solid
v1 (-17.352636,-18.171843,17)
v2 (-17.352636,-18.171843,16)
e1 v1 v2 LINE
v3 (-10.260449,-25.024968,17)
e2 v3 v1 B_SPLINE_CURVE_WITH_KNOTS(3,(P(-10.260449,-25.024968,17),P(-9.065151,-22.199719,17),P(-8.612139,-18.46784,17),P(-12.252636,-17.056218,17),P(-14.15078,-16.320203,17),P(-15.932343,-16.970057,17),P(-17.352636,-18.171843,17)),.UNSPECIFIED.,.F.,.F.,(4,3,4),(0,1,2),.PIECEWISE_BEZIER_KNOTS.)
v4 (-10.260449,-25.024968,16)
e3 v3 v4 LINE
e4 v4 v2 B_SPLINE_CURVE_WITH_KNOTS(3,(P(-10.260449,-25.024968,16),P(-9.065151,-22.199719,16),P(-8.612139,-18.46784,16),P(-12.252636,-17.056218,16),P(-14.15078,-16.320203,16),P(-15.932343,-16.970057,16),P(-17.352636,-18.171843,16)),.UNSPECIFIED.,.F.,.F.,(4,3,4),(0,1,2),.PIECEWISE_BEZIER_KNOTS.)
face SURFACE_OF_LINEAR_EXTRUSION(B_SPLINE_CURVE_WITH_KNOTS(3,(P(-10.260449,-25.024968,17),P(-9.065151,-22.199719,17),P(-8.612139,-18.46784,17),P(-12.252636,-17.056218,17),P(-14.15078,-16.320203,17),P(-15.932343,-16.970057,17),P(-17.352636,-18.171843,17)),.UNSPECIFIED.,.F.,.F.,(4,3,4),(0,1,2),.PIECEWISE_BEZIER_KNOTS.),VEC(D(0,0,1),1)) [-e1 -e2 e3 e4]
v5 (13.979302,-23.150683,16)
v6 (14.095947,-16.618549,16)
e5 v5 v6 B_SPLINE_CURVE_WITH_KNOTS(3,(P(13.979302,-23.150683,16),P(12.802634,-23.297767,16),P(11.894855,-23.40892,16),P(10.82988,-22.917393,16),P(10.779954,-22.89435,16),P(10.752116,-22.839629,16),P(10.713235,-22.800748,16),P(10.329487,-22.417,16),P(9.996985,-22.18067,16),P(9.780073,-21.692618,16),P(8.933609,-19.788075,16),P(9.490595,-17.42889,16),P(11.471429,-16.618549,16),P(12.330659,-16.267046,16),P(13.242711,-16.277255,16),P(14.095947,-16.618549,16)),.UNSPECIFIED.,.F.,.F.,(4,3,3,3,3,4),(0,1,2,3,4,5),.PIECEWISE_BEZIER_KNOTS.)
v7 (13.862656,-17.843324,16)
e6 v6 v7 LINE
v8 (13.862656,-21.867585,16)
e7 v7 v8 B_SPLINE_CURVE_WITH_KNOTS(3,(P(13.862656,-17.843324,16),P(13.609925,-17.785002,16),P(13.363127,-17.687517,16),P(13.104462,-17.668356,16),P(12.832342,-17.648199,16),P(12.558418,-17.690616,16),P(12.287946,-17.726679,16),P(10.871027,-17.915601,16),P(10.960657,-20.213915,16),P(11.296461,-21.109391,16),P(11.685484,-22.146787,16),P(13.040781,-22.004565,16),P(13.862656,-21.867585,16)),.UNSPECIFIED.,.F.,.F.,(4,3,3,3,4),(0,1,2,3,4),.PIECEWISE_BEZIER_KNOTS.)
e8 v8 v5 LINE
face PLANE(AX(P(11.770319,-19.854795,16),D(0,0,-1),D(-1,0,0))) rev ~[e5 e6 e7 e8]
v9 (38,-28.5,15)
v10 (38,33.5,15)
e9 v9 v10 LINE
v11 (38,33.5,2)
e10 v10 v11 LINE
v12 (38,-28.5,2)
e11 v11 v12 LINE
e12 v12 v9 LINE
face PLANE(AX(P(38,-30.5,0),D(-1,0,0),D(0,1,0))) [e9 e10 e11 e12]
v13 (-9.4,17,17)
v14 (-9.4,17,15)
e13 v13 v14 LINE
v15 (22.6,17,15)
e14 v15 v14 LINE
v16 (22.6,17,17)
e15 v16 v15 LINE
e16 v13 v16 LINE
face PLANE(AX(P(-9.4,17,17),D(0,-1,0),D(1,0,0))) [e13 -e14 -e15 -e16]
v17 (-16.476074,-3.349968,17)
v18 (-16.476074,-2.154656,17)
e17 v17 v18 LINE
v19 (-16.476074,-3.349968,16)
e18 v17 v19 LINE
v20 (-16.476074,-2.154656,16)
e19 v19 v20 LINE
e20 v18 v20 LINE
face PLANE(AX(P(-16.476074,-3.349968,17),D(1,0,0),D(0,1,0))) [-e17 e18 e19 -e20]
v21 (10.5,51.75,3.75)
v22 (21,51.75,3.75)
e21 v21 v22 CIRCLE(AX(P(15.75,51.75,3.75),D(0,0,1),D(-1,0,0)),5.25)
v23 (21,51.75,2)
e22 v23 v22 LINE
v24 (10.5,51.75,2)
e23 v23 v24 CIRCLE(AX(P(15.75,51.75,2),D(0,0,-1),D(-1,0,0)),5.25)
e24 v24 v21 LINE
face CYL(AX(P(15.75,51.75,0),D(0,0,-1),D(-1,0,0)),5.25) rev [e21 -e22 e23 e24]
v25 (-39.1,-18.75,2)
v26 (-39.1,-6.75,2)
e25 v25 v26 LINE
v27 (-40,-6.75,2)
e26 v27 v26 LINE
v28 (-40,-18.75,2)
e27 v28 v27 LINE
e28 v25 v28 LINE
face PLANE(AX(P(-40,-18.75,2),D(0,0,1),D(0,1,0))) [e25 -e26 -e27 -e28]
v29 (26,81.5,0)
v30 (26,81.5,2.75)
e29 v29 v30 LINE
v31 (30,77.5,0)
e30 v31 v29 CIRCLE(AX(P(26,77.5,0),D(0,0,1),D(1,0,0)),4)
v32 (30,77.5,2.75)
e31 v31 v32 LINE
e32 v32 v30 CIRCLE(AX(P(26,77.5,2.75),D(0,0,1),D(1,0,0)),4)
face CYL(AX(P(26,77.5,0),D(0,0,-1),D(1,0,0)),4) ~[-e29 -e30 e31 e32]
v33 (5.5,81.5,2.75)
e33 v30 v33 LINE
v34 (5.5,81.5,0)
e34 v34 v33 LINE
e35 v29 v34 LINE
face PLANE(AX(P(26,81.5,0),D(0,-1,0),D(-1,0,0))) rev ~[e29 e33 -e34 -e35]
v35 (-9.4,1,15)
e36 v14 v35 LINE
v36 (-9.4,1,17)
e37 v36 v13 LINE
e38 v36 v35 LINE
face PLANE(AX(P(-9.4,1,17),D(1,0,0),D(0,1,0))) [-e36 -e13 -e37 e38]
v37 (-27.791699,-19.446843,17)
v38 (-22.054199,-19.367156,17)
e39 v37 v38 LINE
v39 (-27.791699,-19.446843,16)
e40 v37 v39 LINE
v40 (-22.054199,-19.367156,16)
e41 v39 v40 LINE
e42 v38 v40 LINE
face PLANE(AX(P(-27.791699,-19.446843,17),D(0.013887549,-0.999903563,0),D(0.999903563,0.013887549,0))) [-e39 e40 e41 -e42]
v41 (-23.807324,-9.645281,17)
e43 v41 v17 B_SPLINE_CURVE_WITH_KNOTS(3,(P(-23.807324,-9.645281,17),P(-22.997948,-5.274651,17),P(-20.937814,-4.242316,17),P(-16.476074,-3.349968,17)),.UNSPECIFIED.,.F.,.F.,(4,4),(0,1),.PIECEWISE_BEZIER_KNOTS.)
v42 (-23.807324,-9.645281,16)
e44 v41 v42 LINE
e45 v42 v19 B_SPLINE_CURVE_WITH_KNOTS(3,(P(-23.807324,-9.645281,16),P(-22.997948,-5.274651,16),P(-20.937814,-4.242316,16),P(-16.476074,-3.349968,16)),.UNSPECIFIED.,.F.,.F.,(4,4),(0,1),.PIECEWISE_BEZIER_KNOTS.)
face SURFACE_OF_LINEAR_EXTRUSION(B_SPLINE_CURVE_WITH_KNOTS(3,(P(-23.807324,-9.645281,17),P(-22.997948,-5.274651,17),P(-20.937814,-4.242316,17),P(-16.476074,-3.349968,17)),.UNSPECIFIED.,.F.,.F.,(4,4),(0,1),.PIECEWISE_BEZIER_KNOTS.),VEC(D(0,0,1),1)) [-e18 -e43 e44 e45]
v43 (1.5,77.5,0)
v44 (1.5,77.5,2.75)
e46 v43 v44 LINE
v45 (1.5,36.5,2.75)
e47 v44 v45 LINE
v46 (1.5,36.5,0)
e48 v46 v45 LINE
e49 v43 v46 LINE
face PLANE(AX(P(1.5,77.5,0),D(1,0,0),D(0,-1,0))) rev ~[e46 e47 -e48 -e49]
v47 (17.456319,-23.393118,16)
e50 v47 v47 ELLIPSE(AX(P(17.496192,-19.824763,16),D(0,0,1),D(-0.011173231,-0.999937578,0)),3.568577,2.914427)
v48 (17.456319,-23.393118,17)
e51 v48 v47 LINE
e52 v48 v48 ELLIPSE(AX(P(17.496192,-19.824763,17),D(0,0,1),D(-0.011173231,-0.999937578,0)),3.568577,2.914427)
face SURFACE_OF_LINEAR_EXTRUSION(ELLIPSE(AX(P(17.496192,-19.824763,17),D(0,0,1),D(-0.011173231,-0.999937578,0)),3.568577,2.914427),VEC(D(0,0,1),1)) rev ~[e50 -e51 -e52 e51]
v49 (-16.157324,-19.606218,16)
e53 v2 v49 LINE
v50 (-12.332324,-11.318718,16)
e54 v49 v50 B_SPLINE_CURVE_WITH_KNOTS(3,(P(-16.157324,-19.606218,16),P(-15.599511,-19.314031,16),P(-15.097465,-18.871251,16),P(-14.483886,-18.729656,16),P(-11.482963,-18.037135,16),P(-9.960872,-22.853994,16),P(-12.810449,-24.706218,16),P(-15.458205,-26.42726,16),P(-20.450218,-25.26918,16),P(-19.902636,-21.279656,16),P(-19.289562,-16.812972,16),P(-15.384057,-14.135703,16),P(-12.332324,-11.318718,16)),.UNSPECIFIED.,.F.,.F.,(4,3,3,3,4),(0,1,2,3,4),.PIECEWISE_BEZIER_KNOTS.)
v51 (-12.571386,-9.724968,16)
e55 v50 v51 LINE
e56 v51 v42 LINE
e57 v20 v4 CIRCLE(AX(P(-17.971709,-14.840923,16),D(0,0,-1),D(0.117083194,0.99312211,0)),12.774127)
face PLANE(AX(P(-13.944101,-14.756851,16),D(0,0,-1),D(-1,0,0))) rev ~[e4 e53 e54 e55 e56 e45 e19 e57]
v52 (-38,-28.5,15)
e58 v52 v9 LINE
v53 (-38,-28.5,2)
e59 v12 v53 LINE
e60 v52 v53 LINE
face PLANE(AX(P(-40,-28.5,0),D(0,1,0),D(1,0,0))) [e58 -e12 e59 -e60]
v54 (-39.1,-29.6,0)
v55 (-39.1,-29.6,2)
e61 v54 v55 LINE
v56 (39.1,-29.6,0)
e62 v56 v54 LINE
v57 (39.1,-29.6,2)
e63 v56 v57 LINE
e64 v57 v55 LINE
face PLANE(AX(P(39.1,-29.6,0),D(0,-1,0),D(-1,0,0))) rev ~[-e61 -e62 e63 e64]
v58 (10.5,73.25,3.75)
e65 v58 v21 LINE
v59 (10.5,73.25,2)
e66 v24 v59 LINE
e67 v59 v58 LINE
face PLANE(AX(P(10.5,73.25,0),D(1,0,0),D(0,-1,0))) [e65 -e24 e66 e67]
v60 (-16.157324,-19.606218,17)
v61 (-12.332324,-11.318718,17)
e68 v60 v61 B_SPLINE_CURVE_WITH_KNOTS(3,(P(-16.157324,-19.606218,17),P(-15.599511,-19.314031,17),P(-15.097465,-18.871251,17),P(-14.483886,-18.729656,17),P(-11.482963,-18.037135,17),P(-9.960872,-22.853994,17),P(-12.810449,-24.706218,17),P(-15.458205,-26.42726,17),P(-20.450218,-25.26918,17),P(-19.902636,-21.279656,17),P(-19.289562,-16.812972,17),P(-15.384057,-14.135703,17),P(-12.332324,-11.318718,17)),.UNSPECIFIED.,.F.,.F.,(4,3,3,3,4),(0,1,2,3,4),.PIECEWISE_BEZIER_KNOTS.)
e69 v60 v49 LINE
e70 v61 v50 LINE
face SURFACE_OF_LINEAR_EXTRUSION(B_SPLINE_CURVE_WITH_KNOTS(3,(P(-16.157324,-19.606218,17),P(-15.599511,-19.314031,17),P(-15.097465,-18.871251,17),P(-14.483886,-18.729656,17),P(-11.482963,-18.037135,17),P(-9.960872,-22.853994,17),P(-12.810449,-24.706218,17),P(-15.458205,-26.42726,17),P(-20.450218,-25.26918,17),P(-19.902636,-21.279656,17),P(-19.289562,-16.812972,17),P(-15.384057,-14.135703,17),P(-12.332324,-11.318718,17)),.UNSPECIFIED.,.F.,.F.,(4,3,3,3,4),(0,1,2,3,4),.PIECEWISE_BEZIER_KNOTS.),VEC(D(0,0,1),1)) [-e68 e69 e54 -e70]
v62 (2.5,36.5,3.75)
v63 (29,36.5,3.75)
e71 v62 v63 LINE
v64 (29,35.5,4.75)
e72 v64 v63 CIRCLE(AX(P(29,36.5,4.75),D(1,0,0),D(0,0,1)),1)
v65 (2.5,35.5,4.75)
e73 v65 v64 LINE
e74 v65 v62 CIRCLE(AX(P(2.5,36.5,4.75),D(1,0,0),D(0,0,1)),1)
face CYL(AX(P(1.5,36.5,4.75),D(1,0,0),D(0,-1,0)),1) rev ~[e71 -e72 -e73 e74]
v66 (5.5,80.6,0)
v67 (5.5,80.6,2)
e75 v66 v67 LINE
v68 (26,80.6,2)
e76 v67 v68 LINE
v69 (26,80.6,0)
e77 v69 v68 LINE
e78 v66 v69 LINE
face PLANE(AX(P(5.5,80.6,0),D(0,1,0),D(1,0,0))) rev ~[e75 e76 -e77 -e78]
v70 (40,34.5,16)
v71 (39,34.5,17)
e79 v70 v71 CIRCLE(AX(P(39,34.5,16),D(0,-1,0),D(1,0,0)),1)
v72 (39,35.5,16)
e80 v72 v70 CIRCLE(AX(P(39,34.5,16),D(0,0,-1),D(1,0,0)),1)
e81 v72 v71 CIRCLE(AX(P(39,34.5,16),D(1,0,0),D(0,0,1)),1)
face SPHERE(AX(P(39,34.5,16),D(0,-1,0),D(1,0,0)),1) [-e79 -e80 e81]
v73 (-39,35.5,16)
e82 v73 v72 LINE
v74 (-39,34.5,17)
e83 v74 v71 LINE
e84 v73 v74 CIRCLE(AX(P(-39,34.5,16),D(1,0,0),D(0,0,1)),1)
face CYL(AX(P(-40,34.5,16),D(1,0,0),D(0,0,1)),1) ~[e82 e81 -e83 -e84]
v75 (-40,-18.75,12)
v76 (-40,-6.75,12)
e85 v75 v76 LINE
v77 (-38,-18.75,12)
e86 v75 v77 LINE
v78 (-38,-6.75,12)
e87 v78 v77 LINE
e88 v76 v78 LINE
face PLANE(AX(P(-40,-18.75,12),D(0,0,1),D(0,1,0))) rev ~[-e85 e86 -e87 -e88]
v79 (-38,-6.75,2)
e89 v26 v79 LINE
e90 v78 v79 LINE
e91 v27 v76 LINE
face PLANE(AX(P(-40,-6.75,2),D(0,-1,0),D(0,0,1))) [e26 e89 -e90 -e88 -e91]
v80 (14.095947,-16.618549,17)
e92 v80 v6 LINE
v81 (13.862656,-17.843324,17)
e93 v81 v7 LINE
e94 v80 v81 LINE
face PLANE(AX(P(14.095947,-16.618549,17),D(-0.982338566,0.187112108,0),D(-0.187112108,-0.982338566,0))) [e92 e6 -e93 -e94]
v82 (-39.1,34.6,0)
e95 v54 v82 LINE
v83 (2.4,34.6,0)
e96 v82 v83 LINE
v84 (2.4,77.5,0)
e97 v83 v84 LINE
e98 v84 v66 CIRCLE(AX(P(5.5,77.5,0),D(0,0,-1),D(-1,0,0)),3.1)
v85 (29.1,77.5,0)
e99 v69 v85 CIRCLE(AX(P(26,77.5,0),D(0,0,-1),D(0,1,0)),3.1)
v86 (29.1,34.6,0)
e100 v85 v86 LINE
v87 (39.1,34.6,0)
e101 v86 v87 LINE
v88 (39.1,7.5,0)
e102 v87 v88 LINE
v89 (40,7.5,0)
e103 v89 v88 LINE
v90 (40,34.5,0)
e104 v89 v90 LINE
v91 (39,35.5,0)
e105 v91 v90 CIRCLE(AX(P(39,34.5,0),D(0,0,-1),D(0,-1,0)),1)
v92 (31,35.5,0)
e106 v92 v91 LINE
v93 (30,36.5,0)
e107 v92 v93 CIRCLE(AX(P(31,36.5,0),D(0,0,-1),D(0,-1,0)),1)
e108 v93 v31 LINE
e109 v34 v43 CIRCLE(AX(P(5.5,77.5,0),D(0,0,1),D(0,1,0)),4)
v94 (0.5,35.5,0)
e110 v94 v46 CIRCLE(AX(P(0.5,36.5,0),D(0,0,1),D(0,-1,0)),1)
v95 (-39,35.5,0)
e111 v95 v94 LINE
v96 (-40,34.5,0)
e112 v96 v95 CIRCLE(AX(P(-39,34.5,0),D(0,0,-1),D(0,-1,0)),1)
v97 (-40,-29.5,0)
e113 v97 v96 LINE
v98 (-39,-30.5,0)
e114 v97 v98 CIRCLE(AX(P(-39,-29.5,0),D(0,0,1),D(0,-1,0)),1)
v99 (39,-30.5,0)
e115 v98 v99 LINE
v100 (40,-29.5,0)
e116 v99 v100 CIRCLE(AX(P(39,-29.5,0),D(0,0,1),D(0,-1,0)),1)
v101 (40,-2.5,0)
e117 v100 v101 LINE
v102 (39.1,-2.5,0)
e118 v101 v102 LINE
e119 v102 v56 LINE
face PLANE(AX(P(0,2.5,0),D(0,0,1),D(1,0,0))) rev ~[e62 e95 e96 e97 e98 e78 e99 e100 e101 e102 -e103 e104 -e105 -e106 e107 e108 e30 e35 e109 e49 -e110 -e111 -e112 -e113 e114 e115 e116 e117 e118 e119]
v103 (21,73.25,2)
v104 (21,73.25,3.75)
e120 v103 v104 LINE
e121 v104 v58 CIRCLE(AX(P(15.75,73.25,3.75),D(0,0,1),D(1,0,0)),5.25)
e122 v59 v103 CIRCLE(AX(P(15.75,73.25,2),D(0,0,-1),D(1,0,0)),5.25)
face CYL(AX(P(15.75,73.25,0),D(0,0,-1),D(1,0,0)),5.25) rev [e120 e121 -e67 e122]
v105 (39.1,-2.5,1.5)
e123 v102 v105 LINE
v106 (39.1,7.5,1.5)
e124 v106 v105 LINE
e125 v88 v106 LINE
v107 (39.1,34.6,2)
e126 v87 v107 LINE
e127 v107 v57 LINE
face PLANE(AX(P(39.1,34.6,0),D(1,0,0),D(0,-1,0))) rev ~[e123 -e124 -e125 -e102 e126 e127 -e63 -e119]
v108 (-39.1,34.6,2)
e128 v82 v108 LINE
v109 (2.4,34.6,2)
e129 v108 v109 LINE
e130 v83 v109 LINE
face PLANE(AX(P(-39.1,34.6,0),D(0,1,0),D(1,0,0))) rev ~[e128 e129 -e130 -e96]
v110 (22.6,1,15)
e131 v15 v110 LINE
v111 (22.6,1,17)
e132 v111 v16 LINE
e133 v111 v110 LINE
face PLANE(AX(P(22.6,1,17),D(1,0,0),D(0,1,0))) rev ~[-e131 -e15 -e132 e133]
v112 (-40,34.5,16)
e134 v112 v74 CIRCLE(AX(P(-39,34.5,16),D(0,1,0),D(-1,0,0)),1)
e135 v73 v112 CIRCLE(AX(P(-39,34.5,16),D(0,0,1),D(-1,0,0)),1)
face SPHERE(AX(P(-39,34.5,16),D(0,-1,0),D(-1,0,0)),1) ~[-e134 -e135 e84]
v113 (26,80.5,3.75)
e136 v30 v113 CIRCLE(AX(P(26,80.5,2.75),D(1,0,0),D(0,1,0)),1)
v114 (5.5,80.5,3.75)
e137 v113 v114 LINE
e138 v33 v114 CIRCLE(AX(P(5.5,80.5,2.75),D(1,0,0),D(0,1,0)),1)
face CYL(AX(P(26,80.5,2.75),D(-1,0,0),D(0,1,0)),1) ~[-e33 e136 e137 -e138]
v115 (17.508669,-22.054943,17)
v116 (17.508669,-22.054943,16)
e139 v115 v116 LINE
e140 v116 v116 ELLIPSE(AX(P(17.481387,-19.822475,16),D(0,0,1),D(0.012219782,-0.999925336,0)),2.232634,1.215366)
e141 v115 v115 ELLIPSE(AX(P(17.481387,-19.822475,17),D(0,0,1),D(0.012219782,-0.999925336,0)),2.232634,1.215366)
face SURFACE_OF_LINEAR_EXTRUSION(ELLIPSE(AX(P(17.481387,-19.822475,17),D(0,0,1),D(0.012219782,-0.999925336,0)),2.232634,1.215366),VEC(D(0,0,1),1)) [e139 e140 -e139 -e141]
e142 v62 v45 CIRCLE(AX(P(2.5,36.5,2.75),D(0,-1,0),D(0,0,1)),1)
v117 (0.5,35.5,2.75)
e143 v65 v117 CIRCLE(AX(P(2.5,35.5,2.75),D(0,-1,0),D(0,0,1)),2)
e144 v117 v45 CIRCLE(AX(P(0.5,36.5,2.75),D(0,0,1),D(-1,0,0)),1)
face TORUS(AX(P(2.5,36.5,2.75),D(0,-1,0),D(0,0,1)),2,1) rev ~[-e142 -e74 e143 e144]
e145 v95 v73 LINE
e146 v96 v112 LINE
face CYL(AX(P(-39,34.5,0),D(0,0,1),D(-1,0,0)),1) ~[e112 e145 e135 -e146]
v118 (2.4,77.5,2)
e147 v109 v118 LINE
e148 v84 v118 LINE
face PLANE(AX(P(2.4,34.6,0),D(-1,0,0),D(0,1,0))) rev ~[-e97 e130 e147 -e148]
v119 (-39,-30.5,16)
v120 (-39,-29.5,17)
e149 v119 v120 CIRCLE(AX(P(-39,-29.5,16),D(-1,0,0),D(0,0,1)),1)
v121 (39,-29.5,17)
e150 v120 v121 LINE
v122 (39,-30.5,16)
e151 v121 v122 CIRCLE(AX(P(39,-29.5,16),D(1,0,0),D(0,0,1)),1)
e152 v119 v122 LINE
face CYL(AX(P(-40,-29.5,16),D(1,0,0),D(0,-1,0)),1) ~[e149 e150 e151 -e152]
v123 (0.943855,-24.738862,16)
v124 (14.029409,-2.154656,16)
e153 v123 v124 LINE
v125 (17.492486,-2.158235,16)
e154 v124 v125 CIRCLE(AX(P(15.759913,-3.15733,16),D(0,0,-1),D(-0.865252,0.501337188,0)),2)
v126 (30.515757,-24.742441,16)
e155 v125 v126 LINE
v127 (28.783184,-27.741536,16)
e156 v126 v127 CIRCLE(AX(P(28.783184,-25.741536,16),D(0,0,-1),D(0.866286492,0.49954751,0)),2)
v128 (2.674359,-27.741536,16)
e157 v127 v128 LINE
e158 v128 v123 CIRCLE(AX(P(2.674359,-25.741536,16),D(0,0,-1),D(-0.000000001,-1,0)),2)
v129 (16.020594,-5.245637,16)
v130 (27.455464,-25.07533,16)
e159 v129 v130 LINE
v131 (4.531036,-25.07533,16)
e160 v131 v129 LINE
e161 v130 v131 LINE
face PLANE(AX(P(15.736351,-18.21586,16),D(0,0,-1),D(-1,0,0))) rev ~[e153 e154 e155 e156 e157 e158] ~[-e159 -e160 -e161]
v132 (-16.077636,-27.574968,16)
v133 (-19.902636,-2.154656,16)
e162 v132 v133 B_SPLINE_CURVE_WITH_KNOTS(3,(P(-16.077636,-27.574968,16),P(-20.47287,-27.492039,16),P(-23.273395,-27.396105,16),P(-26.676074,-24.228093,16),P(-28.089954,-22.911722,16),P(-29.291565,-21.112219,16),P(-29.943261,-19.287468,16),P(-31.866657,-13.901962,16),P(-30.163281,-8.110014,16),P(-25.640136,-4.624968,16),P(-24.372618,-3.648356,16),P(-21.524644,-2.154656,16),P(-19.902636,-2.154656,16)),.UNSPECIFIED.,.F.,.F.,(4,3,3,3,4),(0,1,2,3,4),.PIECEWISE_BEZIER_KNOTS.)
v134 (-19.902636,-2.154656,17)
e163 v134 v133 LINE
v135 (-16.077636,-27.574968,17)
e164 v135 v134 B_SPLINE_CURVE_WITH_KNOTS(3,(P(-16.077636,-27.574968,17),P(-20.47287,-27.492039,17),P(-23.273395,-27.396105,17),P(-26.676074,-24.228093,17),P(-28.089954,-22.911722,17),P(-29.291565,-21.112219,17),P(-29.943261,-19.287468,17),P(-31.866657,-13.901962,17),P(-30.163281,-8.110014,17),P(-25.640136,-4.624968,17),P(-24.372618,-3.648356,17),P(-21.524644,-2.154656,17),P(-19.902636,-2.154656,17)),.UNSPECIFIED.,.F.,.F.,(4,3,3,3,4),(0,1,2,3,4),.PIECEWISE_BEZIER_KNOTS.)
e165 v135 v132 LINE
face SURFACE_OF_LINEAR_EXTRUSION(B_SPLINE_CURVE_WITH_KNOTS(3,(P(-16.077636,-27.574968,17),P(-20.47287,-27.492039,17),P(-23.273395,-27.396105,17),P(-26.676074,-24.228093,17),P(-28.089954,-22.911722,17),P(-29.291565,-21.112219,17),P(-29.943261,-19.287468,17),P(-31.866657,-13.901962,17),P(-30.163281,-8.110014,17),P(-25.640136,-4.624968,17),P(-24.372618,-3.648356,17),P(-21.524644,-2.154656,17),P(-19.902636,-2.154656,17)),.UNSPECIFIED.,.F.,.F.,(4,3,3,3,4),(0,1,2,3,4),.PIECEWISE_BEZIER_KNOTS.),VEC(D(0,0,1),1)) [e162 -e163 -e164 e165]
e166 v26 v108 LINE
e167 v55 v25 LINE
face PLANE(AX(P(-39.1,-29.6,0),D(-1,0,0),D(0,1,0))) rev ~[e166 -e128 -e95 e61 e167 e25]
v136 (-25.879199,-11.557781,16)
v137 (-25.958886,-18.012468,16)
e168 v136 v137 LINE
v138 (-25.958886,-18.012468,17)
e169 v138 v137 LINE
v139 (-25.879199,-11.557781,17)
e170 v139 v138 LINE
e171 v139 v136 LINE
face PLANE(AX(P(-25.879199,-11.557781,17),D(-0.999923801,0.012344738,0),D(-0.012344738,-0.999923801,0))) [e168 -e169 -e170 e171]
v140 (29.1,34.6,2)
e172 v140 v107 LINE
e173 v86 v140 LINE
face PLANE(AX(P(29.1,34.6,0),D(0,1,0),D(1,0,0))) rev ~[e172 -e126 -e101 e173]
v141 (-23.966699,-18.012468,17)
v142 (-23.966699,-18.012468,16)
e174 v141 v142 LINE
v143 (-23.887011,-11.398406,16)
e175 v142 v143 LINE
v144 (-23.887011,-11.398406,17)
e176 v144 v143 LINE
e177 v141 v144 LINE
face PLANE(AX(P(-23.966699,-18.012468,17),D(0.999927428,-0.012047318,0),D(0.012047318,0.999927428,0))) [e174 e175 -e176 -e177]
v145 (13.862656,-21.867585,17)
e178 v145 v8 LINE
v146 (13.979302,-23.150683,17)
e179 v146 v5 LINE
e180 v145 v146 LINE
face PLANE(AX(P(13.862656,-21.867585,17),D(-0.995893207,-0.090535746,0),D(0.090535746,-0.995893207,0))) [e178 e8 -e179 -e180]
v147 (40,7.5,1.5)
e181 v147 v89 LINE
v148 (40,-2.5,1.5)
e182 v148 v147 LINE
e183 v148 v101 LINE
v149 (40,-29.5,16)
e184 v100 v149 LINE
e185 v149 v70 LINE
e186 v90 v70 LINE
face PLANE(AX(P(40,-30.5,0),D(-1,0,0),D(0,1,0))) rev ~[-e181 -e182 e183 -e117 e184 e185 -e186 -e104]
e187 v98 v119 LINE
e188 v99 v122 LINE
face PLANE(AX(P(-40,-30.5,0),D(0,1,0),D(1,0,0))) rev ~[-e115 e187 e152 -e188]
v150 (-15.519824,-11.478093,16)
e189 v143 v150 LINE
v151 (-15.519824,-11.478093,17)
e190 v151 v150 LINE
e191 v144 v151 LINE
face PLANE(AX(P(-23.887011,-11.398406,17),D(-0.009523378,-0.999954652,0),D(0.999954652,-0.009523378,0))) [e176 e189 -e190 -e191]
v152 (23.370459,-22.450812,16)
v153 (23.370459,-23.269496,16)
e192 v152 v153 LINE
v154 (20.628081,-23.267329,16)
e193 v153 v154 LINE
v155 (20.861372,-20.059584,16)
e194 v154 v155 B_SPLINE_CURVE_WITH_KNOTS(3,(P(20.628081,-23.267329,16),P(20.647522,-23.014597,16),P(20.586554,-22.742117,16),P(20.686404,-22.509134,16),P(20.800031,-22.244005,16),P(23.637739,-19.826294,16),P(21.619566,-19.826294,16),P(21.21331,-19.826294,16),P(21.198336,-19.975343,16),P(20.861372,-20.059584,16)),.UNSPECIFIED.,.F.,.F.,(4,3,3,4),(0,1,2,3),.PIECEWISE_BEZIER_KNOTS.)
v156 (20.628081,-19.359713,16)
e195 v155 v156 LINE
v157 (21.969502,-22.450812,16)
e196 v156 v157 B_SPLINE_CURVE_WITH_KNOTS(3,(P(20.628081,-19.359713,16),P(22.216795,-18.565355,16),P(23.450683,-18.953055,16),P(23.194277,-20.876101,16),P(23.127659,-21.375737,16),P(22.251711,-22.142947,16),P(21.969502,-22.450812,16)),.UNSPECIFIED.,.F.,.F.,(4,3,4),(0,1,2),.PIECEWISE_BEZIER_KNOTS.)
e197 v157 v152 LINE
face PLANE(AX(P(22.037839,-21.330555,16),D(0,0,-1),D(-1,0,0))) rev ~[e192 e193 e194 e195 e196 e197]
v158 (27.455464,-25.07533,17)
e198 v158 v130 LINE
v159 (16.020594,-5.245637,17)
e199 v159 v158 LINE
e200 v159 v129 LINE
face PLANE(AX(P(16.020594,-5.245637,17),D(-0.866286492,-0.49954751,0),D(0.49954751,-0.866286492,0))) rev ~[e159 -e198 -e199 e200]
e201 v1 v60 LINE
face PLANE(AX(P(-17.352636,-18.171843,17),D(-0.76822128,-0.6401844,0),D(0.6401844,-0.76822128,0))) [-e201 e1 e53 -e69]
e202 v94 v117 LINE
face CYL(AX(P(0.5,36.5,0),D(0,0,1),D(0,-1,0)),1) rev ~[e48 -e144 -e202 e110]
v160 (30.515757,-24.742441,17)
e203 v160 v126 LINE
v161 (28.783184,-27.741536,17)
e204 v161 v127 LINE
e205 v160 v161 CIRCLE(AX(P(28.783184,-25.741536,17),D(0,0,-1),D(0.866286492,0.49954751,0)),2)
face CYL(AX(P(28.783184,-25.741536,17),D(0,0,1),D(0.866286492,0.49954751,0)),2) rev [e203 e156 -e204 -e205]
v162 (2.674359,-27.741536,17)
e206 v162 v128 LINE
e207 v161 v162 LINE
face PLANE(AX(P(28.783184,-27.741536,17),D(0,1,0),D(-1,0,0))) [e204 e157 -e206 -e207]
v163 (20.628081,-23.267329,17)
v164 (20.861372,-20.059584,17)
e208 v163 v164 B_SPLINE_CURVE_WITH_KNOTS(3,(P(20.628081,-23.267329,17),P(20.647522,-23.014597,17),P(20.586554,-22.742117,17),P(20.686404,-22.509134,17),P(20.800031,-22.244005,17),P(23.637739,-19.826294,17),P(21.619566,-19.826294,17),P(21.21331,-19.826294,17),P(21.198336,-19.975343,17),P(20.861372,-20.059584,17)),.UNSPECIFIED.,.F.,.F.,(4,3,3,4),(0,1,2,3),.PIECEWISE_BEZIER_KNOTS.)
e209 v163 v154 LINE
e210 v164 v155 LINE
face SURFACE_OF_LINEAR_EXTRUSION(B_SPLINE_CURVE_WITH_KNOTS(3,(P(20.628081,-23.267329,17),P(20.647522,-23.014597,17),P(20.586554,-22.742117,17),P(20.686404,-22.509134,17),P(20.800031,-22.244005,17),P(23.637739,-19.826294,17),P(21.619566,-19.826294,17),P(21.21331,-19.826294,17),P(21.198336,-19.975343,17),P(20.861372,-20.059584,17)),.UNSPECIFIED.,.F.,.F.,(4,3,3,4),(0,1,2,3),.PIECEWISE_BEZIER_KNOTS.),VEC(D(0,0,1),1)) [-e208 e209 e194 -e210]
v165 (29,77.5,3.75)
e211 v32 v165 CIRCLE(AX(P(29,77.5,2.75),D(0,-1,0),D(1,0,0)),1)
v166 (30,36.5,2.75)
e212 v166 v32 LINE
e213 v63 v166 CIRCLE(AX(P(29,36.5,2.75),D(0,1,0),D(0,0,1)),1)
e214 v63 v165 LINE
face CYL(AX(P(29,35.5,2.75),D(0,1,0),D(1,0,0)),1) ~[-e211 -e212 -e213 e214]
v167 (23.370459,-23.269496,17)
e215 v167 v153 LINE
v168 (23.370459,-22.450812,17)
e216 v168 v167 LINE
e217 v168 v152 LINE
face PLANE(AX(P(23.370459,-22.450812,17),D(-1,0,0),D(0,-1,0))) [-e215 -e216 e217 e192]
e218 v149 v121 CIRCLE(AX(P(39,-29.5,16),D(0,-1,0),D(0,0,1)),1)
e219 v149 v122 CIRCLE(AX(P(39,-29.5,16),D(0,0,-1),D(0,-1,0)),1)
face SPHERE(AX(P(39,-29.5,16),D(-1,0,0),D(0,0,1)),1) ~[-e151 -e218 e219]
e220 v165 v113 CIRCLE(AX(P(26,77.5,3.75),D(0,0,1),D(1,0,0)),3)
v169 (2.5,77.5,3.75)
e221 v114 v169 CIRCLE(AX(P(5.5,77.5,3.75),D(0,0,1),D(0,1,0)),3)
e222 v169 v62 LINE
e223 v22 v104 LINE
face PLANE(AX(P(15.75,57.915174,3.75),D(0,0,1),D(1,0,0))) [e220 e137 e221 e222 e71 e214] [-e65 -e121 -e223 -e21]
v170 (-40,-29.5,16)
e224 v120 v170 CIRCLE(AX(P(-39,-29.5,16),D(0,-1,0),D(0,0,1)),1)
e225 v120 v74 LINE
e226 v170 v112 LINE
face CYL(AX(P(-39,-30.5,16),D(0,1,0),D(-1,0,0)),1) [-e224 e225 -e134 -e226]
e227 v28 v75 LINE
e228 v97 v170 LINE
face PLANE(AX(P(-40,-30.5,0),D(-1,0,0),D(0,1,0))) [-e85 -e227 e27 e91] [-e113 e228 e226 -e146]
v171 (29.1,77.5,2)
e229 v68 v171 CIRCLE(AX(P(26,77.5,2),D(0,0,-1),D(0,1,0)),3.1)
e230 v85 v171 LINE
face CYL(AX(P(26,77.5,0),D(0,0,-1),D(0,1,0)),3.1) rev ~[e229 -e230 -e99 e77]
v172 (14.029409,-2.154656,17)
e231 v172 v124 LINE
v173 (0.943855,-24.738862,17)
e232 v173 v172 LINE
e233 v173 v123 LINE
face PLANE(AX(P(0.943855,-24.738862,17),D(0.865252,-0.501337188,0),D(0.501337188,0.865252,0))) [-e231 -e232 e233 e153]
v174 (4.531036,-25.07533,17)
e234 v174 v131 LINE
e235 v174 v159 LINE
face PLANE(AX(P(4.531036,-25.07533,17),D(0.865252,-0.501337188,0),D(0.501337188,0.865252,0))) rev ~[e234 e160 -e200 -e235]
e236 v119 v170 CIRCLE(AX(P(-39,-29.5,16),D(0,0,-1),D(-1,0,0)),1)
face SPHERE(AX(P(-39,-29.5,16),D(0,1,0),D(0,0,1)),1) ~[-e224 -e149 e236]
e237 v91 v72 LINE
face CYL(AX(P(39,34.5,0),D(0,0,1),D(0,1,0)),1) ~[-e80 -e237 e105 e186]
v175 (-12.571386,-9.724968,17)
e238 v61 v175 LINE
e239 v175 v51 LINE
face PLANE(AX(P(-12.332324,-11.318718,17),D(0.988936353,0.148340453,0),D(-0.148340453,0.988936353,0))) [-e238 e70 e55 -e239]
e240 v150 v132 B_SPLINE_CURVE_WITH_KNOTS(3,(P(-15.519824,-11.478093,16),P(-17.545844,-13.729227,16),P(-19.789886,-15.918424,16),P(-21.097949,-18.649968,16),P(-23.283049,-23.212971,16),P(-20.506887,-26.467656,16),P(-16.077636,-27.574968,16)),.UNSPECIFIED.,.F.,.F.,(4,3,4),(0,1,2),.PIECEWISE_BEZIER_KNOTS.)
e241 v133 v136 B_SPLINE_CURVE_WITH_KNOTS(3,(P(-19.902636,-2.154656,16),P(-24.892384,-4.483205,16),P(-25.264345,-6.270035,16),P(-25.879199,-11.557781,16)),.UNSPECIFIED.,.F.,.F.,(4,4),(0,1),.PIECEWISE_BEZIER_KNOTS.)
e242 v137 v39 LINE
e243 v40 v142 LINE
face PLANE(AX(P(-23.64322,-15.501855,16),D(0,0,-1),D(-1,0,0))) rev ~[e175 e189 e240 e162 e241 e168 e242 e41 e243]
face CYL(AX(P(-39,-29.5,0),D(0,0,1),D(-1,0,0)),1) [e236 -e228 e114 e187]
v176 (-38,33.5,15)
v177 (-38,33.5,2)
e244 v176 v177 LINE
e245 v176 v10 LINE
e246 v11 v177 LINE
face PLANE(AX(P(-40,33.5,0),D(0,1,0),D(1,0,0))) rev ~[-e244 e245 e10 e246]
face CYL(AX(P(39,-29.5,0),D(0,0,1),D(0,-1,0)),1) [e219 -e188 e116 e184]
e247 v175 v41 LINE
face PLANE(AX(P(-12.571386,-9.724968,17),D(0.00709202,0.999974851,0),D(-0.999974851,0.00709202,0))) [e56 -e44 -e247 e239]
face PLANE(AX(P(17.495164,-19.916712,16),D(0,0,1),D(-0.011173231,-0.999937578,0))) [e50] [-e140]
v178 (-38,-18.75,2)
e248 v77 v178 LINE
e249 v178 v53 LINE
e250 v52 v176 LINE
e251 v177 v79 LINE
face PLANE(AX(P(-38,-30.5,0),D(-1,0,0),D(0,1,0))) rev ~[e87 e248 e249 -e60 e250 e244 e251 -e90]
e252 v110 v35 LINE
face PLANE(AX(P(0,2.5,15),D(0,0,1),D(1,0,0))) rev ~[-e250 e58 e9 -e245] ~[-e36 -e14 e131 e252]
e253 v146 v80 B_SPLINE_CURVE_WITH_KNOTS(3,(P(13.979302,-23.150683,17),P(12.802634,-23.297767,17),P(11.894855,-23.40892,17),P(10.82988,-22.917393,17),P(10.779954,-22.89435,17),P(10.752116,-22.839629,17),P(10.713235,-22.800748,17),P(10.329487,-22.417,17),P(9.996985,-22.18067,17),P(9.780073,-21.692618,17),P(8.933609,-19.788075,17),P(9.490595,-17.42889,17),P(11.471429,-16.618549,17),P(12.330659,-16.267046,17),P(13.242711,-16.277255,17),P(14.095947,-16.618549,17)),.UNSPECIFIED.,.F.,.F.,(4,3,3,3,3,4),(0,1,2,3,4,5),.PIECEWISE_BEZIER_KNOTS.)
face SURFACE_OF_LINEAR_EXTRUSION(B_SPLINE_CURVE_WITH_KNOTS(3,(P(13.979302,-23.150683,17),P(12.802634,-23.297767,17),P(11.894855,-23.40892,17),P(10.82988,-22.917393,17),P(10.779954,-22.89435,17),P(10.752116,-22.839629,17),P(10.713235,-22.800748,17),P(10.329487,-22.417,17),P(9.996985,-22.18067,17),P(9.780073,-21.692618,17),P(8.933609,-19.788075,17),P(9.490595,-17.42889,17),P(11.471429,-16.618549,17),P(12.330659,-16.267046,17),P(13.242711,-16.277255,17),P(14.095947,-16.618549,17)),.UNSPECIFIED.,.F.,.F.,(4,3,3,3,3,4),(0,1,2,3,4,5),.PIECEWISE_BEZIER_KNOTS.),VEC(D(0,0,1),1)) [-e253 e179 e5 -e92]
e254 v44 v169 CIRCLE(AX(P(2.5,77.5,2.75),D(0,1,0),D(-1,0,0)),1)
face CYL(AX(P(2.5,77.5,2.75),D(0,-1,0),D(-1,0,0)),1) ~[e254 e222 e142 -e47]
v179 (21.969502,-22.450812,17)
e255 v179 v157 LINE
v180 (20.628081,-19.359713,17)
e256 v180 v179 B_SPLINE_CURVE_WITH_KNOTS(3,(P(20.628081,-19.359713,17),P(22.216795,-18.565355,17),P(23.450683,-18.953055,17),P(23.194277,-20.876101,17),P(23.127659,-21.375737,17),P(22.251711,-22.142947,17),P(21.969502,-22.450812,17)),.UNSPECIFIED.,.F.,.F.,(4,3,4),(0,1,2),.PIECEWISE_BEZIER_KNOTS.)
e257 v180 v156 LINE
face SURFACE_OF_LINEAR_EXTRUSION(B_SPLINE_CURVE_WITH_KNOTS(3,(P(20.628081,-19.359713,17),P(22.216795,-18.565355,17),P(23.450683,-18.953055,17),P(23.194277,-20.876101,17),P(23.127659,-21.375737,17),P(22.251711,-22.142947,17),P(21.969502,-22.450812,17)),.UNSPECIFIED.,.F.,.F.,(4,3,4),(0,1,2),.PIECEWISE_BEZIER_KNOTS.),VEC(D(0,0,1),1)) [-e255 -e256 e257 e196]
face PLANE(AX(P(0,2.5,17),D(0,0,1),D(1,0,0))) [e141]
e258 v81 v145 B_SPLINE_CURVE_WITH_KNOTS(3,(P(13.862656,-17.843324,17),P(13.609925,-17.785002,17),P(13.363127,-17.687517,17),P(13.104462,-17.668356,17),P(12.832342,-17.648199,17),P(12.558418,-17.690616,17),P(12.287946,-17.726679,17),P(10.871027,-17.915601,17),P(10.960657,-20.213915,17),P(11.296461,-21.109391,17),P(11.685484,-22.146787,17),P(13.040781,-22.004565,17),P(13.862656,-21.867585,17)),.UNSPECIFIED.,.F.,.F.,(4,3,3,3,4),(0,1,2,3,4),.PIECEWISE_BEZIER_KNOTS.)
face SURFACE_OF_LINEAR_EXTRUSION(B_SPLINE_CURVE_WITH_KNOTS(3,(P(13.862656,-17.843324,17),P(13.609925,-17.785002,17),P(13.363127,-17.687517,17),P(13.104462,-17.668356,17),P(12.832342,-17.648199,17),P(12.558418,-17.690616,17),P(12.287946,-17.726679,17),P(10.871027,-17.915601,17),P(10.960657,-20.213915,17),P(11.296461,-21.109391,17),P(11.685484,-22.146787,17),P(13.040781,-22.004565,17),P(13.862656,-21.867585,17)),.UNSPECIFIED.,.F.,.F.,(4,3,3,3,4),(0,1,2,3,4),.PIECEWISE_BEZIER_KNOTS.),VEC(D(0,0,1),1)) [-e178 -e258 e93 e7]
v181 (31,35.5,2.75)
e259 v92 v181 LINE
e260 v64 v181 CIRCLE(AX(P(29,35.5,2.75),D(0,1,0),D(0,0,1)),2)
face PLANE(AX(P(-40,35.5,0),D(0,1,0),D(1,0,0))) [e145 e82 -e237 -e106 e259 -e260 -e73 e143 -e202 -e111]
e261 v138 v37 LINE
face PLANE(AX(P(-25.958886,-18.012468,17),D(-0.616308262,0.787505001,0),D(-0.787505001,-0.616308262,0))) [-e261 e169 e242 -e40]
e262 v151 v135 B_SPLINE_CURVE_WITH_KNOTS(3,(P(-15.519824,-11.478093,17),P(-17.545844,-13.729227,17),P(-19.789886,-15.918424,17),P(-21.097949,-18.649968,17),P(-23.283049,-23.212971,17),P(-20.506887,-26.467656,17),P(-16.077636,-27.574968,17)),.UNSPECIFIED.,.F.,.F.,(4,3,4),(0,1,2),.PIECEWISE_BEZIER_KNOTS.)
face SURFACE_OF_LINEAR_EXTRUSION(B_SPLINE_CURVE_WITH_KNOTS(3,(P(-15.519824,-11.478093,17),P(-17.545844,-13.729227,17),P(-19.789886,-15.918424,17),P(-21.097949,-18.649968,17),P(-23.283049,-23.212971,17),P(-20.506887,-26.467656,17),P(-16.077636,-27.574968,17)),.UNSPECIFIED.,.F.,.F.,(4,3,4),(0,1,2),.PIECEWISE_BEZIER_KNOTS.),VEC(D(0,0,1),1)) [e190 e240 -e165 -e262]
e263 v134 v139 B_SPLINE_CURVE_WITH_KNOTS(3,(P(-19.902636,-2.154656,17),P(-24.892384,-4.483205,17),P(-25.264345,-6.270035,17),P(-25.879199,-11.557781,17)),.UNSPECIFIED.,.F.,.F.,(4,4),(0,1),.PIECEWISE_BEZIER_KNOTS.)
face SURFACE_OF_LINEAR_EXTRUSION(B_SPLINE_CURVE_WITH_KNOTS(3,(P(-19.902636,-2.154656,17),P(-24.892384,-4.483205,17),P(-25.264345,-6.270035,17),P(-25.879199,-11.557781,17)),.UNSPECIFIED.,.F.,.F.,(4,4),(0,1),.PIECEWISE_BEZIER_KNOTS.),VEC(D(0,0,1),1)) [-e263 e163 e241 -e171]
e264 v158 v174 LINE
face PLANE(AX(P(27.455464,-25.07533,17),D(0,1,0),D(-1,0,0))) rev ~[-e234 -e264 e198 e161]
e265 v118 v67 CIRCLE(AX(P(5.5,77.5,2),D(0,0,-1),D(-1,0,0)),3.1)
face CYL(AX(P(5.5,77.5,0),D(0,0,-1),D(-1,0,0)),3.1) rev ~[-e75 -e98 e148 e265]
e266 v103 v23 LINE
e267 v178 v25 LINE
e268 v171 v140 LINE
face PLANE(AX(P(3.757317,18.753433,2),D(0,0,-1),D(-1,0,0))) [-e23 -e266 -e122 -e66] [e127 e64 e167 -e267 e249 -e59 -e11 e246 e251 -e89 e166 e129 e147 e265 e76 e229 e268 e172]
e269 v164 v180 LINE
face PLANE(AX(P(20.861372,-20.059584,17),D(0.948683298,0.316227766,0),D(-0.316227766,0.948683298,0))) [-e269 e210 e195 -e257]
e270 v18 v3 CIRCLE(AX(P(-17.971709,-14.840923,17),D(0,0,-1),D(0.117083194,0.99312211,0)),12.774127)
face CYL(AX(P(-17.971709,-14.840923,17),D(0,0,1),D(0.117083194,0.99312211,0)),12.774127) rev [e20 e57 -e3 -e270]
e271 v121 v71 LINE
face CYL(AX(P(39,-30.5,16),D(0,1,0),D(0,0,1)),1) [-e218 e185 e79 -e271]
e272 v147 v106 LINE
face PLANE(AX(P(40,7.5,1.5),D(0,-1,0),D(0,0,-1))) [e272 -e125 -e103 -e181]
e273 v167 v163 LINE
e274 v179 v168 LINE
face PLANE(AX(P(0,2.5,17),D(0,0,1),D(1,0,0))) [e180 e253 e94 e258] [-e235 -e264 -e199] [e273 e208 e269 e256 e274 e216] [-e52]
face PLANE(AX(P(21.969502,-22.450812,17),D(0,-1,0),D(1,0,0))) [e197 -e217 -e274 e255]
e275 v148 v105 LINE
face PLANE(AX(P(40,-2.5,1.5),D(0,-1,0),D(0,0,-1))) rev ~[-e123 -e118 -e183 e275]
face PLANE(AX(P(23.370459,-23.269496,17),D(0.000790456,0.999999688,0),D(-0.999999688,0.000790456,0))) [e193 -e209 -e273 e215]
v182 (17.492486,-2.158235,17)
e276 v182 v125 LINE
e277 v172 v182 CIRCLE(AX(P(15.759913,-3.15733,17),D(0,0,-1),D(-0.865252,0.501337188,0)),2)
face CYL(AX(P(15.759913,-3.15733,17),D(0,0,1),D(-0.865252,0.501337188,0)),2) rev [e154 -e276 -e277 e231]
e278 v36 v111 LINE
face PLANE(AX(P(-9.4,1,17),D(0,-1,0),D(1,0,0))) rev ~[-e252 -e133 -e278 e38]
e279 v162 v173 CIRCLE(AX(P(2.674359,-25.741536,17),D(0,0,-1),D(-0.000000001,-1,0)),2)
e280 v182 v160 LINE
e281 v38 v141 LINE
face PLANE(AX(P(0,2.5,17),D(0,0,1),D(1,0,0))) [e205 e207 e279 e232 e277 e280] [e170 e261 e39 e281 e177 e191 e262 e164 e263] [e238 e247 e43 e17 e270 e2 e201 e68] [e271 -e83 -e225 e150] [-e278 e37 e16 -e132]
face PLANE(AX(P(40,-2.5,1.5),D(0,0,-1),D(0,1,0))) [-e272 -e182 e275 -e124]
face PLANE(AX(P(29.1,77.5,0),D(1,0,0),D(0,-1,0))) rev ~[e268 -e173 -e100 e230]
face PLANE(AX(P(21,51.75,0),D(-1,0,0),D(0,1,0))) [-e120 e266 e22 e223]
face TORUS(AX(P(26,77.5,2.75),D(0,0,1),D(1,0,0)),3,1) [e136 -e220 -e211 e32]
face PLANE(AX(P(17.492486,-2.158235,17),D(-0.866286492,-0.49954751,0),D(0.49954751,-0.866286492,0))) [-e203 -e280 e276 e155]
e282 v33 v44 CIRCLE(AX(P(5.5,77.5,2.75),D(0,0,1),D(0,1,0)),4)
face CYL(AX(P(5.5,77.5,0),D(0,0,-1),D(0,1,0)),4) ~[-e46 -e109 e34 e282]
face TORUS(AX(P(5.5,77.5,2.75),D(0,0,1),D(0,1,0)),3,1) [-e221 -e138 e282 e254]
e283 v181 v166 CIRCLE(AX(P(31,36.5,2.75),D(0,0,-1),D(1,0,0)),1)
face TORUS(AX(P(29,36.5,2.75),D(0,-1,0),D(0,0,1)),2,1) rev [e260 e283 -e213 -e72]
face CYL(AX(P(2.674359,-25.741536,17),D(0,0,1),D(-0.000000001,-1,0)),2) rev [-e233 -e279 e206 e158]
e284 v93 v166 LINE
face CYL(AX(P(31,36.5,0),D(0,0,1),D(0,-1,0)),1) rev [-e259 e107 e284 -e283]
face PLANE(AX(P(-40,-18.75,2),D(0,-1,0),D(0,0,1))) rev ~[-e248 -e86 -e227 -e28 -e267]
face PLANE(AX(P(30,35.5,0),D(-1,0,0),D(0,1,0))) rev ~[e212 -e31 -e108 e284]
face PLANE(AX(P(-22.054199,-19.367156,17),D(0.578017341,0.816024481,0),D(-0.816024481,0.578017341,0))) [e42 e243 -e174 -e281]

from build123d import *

# Parameters (mm, degrees)
CROQUIS1_W              = 80
CROQUIS1_H              = 66
SALIENTE_EXTRUIR2_DEPTH = 17
VACIADO7_T              = -2
CORTAR_EXTRUIR9_REACH   = 58.118
CROQUIS12_W             = 32
CROQUIS12_H             = 16
SALIENTE_EXTRUIR3_DEPTH = 3.75
CORTAR_EXTRUIR11_DEPTH  = 2
CORTAR_EXTRUIR26_REACH  = 117.461
CROQUIS16_W             = 10
CROQUIS16_H             = 12
CORTAR_EXTRUIR18_DEPTH  = 1
CROQUIS20_RX            = 3.568577335
CROQUIS20_RY            = 2.914426882
CROQUIS20_RX_2          = 2.232634343
CROQUIS20_RY_2          = 1.215365865
CORTAR_EXTRUIR24_DEPTH  = 1
CORTAR_EXTRUIR25_REACH  = 117.461
CROQUIS27_W             = 1.5
CROQUIS27_H             = 10
REDONDEO3_R             = 1


with BuildPart() as part:
    # Croquis1 → Saliente-Extruir2 (new body)
    with BuildSketch(Plane.XY):
        with Locations((0, 2.5)):
            Rectangle(CROQUIS1_W, CROQUIS1_H)
    extrude(amount=SALIENTE_EXTRUIR2_DEPTH)

    # Vaciado7
    vaciado7_openings = [part.faces().sort_by_distance(p)[0] for p in [
        (0, 2.5, 0),
    ]]
    offset(amount=VACIADO7_T, openings=vaciado7_openings, kind=Kind.INTERSECTION)

    # Croquis12 → Cortar-Extruir9 (cut, up to next)
    with BuildSketch(Plane.XY.offset(17), mode=Mode.PRIVATE) as cortar_extruir9_sk1:
        with Locations((6.6, 9)):
            Rectangle(CROQUIS12_W, CROQUIS12_H)
    cortar_extruir9_tool1 = extrude(cortar_extruir9_sk1.sketch, amount=-CORTAR_EXTRUIR9_REACH, mode=Mode.PRIVATE) & part.part
    add(cortar_extruir9_tool1.solids().sort_by_distance((6.6, 9, 17))[0], mode=Mode.SUBTRACT)

    # Croquis29 → Saliente-Extruir3 (add)
    with BuildSketch(Plane(origin=(0, 0, 0), x_dir=(-1, 0, 0), z_dir=(0, 0, -1))):
        with BuildLine():
            Line((-1.5, 77.5), (-1.5, 35.5))
            Line((-1.5, 35.5), (-30, 35.5))
            Line((-30, 35.5), (-30, 77.5))
            ThreePointArc((-30, 77.5), (-28.828427125, 80.328427125), (-26, 81.5))
            Line((-26, 81.5), (-5.5, 81.5))
            ThreePointArc((-5.5, 81.5), (-2.671572875, 80.328427125), (-1.5, 77.5))
        make_face()
        with BuildLine():
            Line((-10.5, 73.25), (-10.5, 51.75))
            ThreePointArc((-10.5, 51.75), (-15.75, 46.5), (-21, 51.75))
            Line((-21, 51.75), (-21, 73.25))
            ThreePointArc((-21, 73.25), (-15.75, 78.5), (-10.5, 73.25))
        make_face(mode=Mode.SUBTRACT)
    extrude(amount=-SALIENTE_EXTRUIR3_DEPTH)

    # Croquis14 → Cortar-Extruir11 (cut)
    with BuildSketch(Plane(origin=(0, 0, 0), x_dir=(-1, 0, 0), z_dir=(0, 0, -1))):
        with BuildLine():
            Line((39.1, 34.6), (-2.4, 34.6))
            Line((-2.4, 34.6), (-2.4, 77.5))
            ThreePointArc((-2.4, 77.5), (-3.307968978, 79.692031022), (-5.5, 80.6))
            Line((-5.5, 80.6), (-26, 80.6))
            ThreePointArc((-26, 80.6), (-28.192031022, 79.692031022), (-29.1, 77.5))
            Line((-29.1, 77.5), (-29.1, 34.6))
            Line((-29.1, 34.6), (-39.1, 34.6))
            Line((-39.1, 34.6), (-39.1, -29.6))
            Line((-39.1, -29.6), (39.1, -29.6))
            Line((39.1, -29.6), (39.1, 34.6))
        make_face()
    extrude(amount=-CORTAR_EXTRUIR11_DEPTH, mode=Mode.SUBTRACT)

    # Croquis16 → Cortar-Extruir26 (cut, up to next)
    with BuildSketch(Plane.ZY.offset(40), mode=Mode.PRIVATE) as cortar_extruir26_sk1:
        with Locations((7, -12.75)):
            Rectangle(CROQUIS16_W, CROQUIS16_H)
    cortar_extruir26_tool1 = extrude(cortar_extruir26_sk1.sketch, amount=-CORTAR_EXTRUIR26_REACH, mode=Mode.PRIVATE) & part.part
    add(cortar_extruir26_tool1.solids().sort_by_distance((-40, -12.75, 7))[0], mode=Mode.SUBTRACT)

    # Croquis19 → Cortar-Extruir18 (cut)
    with BuildSketch(Plane.XY.offset(17)):
        with BuildLine():
            Line((-25.879198939, -11.557780912), (-25.958886439, -18.012468412))
            Line((-25.958886439, -18.012468412), (-27.791698939, -19.446843412))
            Line((-27.791698939, -19.446843412), (-22.054198939, -19.367155912))
            Line((-22.054198939, -19.367155912), (-23.966698939, -18.012468412))
            Line((-23.966698939, -18.012468412), (-23.887011439, -11.398405912))
            Line((-23.887011439, -11.398405912), (-15.519823939, -11.478093412))
            add(Edge.make_bspline(
                [(-15.519823939, -11.478093412), (-17.545844486, -13.729227354), (-19.789885544, -15.918424263), (-21.097948939, -18.649968412), (-23.283048865, -23.212971199), (-20.506886895, -26.467655798), (-16.077636439, -27.574968412)],
                knots=[0, 0, 0, 0, 1, 1, 1, 2, 2, 2, 2], degree=3))
            add(Edge.make_bspline(
                [(-16.077636439, -27.574968412), (-20.47287026, -27.492039472), (-23.273395234, -27.39610462), (-26.676073939, -24.228093412), (-28.089954041, -22.911722282), (-29.291564933, -21.112218629), (-29.943261439, -19.287468412), (-31.866656617, -13.901961913), (-30.163281273, -8.110014432), (-25.640136439, -4.624968412), (-24.372618274, -3.648356055), (-21.52464389, -2.154655912), (-19.902636439, -2.154655912)],
                knots=[0, 0, 0, 0, 1, 1, 1, 2, 2, 2, 3, 3, 3, 4, 4, 4, 4], degree=3))
            add(Edge.make_bspline(
                [(-19.902636439, -2.154655912), (-24.89238413, -4.483204835), (-25.264344747, -6.270034861), (-25.879198939, -11.557780912)],
                knots=[0, 0, 0, 0, 1, 1, 1, 1], degree=3))
        make_face()
        with BuildLine():
            Line((-12.332323939, -11.318718412), (-12.571386439, -9.724968412))
            Line((-12.571386439, -9.724968412), (-23.807323939, -9.645280912))
            add(Edge.make_bspline(
                [(-23.807323939, -9.645280912), (-22.997948037, -5.274651041), (-20.937814043, -4.242316433), (-16.476073939, -3.349968412)],
                knots=[0, 0, 0, 0, 1, 1, 1, 1], degree=3))
            Line((-16.476073939, -3.349968412), (-16.476073939, -2.154655912))
            ThreePointArc((-16.476073939, -2.154655912), (-5.644725568, -11.490732727), (-10.260448939, -25.024968412))
            add(Edge.make_bspline(
                [(-10.260448939, -25.024968412), (-9.065150963, -22.199718651), (-8.612139109, -18.467839826), (-12.252636439, -17.056218412), (-14.15078044, -16.320203391), (-15.932343039, -16.970056689), (-17.352636439, -18.171843412)],
                knots=[0, 0, 0, 0, 1, 1, 1, 2, 2, 2, 2], degree=3))
            Line((-17.352636439, -18.171843412), (-16.157323939, -19.606218412))
            add(Edge.make_bspline(
                [(-16.157323939, -19.606218412), (-15.599511439, -19.314030912), (-15.097465395, -18.871251056), (-14.483886439, -18.729655912), (-11.48296264, -18.037135035), (-9.960872453, -22.853993696), (-12.810448939, -24.706218412), (-15.458204542, -26.427259554), (-20.450218214, -25.269180271), (-19.902636439, -21.279655912), (-19.28956224, -16.812972462), (-15.384057396, -14.135703142), (-12.332323939, -11.318718412)],
                knots=[0, 0, 0, 0, 1, 1, 1, 2, 2, 2, 3, 3, 3, 4, 4, 4, 4], degree=3))
        make_face()
    extrude(amount=-CORTAR_EXTRUIR18_DEPTH, mode=Mode.SUBTRACT)

    # Croquis20 → Cortar-Extruir24 (cut)
    # profile 1 of 4: a face of its own
    with BuildSketch(Plane.XY.offset(17)):
        with BuildLine():
            Line((17.492486188, -2.15823527), (30.515757194, -24.742441047))
            ThreePointArc((30.515757194, -24.742441047), (30.514973753, -26.741988454), (28.78318421, -27.741536066))
            Line((28.78318421, -27.741536066), (2.674358681, -27.741536066))
            ThreePointArc((2.674358681, -27.741536066), (0.94153602, -26.740197982), (0.943854681, -24.738861689))
            Line((0.943854681, -24.738861689), (14.029409205, -2.154655912))
            ThreePointArc((14.029409205, -2.154655912), (15.761980358, -1.157331357), (17.492486188, -2.15823527))
        make_face()
        Polygon((27.455464057, -25.075329963), (4.531036151, -25.075329963), (16.020593617, -5.245636875), align=None, mode=Mode.SUBTRACT)
    # profile 2 of 4: a face of its own
    with BuildSketch(Plane.XY.offset(17)):
        with BuildLine():
            add(Edge.make_bspline(
                [(13.862656428, -17.843324249), (13.609925045, -17.785001622), (13.363127239, -17.687516736), (13.10446228, -17.668356369), (12.832342125, -17.64819932), (12.558417593, -17.69061605), (12.287945506, -17.726678995), (10.871027447, -17.915601403), (10.960657265, -20.213915115), (11.296460852, -21.109391346), (11.685484329, -22.146787286), (13.040781256, -22.004564689), (13.862656428, -21.867585493)],
                knots=[0, 0, 0, 0, 1, 1, 1, 2, 2, 2, 3, 3, 3, 4, 4, 4, 4], degree=3))
            Line((13.862656428, -21.867585493), (13.979301681, -23.150683281))
            add(Edge.make_bspline(
                [(13.979301681, -23.150683281), (12.802633706, -23.297766778), (11.894855056, -23.408919798), (10.829879838, -22.917392774), (10.779953785, -22.894349981), (10.752116336, -22.839629272), (10.713234584, -22.800747521), (10.32948715, -22.417000086), (9.996984657, -22.180669839), (9.780072557, -21.692617613), (8.933608989, -19.788074586), (9.49059492, -17.428890192), (11.471428732, -16.618549087), (12.33065858, -16.267045968), (13.242711362, -16.277254858), (14.095946935, -16.618549087)],
                knots=[0, 0, 0, 0, 1, 1, 1, 2, 2, 2, 3, 3, 3, 4, 4, 4, 5, 5, 5, 5], degree=3))
            Line((14.095946935, -16.618549087), (13.862656428, -17.843324249))
        make_face()
    # profile 3 of 4: a face of its own
    with BuildSketch(Plane.XY.offset(17)):
        with Locations(Location((17.496191892, -19.824762959), (0, 0, -90.640192277))):
            Ellipse(CROQUIS20_RX, CROQUIS20_RY)
        with Locations(Location((17.481387144, -19.822474896), (0, 0, -89.299840613))):
            Ellipse(CROQUIS20_RX_2, CROQUIS20_RY_2, mode=Mode.SUBTRACT)
    # profile 4 of 4: a face of its own
    with BuildSketch(Plane.XY.offset(17)):
        with BuildLine():
            add(Edge.make_bspline(
                [(20.628081129, -23.267328535), (20.647522004, -23.014597152), (20.586553877, -22.742117436), (20.686403756, -22.509134387), (20.800030651, -22.244004964), (23.637738658, -19.826293558), (21.619565783, -19.826293558), (21.213309519, -19.826293558), (21.198336422, -19.975342868), (20.861371636, -20.059584065)],
                knots=[0, 0, 0, 0, 1, 1, 1, 2, 2, 2, 3, 3, 3, 3], degree=3))
            Line((20.861371636, -20.059584065), (20.628081129, -19.359712544))
            add(Edge.make_bspline(
                [(20.628081129, -19.359712544), (22.216795317, -18.56535545), (23.450682845, -18.953054788), (23.194276705, -20.876100839), (23.127658561, -21.375736918), (22.25171125, -22.142946626), (21.969501544, -22.450811761)],
                knots=[0, 0, 0, 0, 1, 1, 1, 2, 2, 2, 2], degree=3))
            Line((21.969501544, -22.450811761), (23.370459113, -22.450811761))
            Line((23.370459113, -22.450811761), (23.370459113, -23.269496264))
            Line((23.370459113, -23.269496264), (20.628081129, -23.267328535))
        make_face()
    extrude(amount=-CORTAR_EXTRUIR24_DEPTH, mode=Mode.SUBTRACT)

    # Croquis27 → Cortar-Extruir25 (cut, up to next)
    with BuildSketch(Plane(origin=(40, 0, 0), x_dir=(0, 0, -1), z_dir=(1, 0, 0)), mode=Mode.PRIVATE) as cortar_extruir25_sk1:
        with Locations((-0.75, 2.5)):
            Rectangle(CROQUIS27_W, CROQUIS27_H)
    cortar_extruir25_tool1 = extrude(cortar_extruir25_sk1.sketch, amount=-CORTAR_EXTRUIR25_REACH, mode=Mode.PRIVATE) & part.part
    add(cortar_extruir25_tool1.solids().sort_by_distance((40, 2.5, 0.75))[0], mode=Mode.SUBTRACT)

    # Redondeo3
    redondeo3_edges = [part.edges().sort_by_distance(p)[0] for p in [
        (-40, 2.5, 17),
        (0, -30.5, 17),
        (28.828427125, 80.328427125, 3.75),
        (15.75, 81.5, 3.75),
        (2.671572875, 80.328427125, 3.75),
        (1.5, 56.5, 3.75),
        (15.75, 35.5, 3.75),
        (1.5, 35.5, 1.875),
        (30, 56.5, 3.75),
        (30, 35.5, 1.875),
        (40, 2.5, 17),
        (40, -30.5, 8.5),
        (-40, -30.5, 8.5),
        (-40, 35.5, 8.5),
        (40, 35.5, 8.5),
        (0, 35.5, 17),
    ]]
    fillet(redondeo3_edges, radius=REDONDEO3_R)


solid = part.part
